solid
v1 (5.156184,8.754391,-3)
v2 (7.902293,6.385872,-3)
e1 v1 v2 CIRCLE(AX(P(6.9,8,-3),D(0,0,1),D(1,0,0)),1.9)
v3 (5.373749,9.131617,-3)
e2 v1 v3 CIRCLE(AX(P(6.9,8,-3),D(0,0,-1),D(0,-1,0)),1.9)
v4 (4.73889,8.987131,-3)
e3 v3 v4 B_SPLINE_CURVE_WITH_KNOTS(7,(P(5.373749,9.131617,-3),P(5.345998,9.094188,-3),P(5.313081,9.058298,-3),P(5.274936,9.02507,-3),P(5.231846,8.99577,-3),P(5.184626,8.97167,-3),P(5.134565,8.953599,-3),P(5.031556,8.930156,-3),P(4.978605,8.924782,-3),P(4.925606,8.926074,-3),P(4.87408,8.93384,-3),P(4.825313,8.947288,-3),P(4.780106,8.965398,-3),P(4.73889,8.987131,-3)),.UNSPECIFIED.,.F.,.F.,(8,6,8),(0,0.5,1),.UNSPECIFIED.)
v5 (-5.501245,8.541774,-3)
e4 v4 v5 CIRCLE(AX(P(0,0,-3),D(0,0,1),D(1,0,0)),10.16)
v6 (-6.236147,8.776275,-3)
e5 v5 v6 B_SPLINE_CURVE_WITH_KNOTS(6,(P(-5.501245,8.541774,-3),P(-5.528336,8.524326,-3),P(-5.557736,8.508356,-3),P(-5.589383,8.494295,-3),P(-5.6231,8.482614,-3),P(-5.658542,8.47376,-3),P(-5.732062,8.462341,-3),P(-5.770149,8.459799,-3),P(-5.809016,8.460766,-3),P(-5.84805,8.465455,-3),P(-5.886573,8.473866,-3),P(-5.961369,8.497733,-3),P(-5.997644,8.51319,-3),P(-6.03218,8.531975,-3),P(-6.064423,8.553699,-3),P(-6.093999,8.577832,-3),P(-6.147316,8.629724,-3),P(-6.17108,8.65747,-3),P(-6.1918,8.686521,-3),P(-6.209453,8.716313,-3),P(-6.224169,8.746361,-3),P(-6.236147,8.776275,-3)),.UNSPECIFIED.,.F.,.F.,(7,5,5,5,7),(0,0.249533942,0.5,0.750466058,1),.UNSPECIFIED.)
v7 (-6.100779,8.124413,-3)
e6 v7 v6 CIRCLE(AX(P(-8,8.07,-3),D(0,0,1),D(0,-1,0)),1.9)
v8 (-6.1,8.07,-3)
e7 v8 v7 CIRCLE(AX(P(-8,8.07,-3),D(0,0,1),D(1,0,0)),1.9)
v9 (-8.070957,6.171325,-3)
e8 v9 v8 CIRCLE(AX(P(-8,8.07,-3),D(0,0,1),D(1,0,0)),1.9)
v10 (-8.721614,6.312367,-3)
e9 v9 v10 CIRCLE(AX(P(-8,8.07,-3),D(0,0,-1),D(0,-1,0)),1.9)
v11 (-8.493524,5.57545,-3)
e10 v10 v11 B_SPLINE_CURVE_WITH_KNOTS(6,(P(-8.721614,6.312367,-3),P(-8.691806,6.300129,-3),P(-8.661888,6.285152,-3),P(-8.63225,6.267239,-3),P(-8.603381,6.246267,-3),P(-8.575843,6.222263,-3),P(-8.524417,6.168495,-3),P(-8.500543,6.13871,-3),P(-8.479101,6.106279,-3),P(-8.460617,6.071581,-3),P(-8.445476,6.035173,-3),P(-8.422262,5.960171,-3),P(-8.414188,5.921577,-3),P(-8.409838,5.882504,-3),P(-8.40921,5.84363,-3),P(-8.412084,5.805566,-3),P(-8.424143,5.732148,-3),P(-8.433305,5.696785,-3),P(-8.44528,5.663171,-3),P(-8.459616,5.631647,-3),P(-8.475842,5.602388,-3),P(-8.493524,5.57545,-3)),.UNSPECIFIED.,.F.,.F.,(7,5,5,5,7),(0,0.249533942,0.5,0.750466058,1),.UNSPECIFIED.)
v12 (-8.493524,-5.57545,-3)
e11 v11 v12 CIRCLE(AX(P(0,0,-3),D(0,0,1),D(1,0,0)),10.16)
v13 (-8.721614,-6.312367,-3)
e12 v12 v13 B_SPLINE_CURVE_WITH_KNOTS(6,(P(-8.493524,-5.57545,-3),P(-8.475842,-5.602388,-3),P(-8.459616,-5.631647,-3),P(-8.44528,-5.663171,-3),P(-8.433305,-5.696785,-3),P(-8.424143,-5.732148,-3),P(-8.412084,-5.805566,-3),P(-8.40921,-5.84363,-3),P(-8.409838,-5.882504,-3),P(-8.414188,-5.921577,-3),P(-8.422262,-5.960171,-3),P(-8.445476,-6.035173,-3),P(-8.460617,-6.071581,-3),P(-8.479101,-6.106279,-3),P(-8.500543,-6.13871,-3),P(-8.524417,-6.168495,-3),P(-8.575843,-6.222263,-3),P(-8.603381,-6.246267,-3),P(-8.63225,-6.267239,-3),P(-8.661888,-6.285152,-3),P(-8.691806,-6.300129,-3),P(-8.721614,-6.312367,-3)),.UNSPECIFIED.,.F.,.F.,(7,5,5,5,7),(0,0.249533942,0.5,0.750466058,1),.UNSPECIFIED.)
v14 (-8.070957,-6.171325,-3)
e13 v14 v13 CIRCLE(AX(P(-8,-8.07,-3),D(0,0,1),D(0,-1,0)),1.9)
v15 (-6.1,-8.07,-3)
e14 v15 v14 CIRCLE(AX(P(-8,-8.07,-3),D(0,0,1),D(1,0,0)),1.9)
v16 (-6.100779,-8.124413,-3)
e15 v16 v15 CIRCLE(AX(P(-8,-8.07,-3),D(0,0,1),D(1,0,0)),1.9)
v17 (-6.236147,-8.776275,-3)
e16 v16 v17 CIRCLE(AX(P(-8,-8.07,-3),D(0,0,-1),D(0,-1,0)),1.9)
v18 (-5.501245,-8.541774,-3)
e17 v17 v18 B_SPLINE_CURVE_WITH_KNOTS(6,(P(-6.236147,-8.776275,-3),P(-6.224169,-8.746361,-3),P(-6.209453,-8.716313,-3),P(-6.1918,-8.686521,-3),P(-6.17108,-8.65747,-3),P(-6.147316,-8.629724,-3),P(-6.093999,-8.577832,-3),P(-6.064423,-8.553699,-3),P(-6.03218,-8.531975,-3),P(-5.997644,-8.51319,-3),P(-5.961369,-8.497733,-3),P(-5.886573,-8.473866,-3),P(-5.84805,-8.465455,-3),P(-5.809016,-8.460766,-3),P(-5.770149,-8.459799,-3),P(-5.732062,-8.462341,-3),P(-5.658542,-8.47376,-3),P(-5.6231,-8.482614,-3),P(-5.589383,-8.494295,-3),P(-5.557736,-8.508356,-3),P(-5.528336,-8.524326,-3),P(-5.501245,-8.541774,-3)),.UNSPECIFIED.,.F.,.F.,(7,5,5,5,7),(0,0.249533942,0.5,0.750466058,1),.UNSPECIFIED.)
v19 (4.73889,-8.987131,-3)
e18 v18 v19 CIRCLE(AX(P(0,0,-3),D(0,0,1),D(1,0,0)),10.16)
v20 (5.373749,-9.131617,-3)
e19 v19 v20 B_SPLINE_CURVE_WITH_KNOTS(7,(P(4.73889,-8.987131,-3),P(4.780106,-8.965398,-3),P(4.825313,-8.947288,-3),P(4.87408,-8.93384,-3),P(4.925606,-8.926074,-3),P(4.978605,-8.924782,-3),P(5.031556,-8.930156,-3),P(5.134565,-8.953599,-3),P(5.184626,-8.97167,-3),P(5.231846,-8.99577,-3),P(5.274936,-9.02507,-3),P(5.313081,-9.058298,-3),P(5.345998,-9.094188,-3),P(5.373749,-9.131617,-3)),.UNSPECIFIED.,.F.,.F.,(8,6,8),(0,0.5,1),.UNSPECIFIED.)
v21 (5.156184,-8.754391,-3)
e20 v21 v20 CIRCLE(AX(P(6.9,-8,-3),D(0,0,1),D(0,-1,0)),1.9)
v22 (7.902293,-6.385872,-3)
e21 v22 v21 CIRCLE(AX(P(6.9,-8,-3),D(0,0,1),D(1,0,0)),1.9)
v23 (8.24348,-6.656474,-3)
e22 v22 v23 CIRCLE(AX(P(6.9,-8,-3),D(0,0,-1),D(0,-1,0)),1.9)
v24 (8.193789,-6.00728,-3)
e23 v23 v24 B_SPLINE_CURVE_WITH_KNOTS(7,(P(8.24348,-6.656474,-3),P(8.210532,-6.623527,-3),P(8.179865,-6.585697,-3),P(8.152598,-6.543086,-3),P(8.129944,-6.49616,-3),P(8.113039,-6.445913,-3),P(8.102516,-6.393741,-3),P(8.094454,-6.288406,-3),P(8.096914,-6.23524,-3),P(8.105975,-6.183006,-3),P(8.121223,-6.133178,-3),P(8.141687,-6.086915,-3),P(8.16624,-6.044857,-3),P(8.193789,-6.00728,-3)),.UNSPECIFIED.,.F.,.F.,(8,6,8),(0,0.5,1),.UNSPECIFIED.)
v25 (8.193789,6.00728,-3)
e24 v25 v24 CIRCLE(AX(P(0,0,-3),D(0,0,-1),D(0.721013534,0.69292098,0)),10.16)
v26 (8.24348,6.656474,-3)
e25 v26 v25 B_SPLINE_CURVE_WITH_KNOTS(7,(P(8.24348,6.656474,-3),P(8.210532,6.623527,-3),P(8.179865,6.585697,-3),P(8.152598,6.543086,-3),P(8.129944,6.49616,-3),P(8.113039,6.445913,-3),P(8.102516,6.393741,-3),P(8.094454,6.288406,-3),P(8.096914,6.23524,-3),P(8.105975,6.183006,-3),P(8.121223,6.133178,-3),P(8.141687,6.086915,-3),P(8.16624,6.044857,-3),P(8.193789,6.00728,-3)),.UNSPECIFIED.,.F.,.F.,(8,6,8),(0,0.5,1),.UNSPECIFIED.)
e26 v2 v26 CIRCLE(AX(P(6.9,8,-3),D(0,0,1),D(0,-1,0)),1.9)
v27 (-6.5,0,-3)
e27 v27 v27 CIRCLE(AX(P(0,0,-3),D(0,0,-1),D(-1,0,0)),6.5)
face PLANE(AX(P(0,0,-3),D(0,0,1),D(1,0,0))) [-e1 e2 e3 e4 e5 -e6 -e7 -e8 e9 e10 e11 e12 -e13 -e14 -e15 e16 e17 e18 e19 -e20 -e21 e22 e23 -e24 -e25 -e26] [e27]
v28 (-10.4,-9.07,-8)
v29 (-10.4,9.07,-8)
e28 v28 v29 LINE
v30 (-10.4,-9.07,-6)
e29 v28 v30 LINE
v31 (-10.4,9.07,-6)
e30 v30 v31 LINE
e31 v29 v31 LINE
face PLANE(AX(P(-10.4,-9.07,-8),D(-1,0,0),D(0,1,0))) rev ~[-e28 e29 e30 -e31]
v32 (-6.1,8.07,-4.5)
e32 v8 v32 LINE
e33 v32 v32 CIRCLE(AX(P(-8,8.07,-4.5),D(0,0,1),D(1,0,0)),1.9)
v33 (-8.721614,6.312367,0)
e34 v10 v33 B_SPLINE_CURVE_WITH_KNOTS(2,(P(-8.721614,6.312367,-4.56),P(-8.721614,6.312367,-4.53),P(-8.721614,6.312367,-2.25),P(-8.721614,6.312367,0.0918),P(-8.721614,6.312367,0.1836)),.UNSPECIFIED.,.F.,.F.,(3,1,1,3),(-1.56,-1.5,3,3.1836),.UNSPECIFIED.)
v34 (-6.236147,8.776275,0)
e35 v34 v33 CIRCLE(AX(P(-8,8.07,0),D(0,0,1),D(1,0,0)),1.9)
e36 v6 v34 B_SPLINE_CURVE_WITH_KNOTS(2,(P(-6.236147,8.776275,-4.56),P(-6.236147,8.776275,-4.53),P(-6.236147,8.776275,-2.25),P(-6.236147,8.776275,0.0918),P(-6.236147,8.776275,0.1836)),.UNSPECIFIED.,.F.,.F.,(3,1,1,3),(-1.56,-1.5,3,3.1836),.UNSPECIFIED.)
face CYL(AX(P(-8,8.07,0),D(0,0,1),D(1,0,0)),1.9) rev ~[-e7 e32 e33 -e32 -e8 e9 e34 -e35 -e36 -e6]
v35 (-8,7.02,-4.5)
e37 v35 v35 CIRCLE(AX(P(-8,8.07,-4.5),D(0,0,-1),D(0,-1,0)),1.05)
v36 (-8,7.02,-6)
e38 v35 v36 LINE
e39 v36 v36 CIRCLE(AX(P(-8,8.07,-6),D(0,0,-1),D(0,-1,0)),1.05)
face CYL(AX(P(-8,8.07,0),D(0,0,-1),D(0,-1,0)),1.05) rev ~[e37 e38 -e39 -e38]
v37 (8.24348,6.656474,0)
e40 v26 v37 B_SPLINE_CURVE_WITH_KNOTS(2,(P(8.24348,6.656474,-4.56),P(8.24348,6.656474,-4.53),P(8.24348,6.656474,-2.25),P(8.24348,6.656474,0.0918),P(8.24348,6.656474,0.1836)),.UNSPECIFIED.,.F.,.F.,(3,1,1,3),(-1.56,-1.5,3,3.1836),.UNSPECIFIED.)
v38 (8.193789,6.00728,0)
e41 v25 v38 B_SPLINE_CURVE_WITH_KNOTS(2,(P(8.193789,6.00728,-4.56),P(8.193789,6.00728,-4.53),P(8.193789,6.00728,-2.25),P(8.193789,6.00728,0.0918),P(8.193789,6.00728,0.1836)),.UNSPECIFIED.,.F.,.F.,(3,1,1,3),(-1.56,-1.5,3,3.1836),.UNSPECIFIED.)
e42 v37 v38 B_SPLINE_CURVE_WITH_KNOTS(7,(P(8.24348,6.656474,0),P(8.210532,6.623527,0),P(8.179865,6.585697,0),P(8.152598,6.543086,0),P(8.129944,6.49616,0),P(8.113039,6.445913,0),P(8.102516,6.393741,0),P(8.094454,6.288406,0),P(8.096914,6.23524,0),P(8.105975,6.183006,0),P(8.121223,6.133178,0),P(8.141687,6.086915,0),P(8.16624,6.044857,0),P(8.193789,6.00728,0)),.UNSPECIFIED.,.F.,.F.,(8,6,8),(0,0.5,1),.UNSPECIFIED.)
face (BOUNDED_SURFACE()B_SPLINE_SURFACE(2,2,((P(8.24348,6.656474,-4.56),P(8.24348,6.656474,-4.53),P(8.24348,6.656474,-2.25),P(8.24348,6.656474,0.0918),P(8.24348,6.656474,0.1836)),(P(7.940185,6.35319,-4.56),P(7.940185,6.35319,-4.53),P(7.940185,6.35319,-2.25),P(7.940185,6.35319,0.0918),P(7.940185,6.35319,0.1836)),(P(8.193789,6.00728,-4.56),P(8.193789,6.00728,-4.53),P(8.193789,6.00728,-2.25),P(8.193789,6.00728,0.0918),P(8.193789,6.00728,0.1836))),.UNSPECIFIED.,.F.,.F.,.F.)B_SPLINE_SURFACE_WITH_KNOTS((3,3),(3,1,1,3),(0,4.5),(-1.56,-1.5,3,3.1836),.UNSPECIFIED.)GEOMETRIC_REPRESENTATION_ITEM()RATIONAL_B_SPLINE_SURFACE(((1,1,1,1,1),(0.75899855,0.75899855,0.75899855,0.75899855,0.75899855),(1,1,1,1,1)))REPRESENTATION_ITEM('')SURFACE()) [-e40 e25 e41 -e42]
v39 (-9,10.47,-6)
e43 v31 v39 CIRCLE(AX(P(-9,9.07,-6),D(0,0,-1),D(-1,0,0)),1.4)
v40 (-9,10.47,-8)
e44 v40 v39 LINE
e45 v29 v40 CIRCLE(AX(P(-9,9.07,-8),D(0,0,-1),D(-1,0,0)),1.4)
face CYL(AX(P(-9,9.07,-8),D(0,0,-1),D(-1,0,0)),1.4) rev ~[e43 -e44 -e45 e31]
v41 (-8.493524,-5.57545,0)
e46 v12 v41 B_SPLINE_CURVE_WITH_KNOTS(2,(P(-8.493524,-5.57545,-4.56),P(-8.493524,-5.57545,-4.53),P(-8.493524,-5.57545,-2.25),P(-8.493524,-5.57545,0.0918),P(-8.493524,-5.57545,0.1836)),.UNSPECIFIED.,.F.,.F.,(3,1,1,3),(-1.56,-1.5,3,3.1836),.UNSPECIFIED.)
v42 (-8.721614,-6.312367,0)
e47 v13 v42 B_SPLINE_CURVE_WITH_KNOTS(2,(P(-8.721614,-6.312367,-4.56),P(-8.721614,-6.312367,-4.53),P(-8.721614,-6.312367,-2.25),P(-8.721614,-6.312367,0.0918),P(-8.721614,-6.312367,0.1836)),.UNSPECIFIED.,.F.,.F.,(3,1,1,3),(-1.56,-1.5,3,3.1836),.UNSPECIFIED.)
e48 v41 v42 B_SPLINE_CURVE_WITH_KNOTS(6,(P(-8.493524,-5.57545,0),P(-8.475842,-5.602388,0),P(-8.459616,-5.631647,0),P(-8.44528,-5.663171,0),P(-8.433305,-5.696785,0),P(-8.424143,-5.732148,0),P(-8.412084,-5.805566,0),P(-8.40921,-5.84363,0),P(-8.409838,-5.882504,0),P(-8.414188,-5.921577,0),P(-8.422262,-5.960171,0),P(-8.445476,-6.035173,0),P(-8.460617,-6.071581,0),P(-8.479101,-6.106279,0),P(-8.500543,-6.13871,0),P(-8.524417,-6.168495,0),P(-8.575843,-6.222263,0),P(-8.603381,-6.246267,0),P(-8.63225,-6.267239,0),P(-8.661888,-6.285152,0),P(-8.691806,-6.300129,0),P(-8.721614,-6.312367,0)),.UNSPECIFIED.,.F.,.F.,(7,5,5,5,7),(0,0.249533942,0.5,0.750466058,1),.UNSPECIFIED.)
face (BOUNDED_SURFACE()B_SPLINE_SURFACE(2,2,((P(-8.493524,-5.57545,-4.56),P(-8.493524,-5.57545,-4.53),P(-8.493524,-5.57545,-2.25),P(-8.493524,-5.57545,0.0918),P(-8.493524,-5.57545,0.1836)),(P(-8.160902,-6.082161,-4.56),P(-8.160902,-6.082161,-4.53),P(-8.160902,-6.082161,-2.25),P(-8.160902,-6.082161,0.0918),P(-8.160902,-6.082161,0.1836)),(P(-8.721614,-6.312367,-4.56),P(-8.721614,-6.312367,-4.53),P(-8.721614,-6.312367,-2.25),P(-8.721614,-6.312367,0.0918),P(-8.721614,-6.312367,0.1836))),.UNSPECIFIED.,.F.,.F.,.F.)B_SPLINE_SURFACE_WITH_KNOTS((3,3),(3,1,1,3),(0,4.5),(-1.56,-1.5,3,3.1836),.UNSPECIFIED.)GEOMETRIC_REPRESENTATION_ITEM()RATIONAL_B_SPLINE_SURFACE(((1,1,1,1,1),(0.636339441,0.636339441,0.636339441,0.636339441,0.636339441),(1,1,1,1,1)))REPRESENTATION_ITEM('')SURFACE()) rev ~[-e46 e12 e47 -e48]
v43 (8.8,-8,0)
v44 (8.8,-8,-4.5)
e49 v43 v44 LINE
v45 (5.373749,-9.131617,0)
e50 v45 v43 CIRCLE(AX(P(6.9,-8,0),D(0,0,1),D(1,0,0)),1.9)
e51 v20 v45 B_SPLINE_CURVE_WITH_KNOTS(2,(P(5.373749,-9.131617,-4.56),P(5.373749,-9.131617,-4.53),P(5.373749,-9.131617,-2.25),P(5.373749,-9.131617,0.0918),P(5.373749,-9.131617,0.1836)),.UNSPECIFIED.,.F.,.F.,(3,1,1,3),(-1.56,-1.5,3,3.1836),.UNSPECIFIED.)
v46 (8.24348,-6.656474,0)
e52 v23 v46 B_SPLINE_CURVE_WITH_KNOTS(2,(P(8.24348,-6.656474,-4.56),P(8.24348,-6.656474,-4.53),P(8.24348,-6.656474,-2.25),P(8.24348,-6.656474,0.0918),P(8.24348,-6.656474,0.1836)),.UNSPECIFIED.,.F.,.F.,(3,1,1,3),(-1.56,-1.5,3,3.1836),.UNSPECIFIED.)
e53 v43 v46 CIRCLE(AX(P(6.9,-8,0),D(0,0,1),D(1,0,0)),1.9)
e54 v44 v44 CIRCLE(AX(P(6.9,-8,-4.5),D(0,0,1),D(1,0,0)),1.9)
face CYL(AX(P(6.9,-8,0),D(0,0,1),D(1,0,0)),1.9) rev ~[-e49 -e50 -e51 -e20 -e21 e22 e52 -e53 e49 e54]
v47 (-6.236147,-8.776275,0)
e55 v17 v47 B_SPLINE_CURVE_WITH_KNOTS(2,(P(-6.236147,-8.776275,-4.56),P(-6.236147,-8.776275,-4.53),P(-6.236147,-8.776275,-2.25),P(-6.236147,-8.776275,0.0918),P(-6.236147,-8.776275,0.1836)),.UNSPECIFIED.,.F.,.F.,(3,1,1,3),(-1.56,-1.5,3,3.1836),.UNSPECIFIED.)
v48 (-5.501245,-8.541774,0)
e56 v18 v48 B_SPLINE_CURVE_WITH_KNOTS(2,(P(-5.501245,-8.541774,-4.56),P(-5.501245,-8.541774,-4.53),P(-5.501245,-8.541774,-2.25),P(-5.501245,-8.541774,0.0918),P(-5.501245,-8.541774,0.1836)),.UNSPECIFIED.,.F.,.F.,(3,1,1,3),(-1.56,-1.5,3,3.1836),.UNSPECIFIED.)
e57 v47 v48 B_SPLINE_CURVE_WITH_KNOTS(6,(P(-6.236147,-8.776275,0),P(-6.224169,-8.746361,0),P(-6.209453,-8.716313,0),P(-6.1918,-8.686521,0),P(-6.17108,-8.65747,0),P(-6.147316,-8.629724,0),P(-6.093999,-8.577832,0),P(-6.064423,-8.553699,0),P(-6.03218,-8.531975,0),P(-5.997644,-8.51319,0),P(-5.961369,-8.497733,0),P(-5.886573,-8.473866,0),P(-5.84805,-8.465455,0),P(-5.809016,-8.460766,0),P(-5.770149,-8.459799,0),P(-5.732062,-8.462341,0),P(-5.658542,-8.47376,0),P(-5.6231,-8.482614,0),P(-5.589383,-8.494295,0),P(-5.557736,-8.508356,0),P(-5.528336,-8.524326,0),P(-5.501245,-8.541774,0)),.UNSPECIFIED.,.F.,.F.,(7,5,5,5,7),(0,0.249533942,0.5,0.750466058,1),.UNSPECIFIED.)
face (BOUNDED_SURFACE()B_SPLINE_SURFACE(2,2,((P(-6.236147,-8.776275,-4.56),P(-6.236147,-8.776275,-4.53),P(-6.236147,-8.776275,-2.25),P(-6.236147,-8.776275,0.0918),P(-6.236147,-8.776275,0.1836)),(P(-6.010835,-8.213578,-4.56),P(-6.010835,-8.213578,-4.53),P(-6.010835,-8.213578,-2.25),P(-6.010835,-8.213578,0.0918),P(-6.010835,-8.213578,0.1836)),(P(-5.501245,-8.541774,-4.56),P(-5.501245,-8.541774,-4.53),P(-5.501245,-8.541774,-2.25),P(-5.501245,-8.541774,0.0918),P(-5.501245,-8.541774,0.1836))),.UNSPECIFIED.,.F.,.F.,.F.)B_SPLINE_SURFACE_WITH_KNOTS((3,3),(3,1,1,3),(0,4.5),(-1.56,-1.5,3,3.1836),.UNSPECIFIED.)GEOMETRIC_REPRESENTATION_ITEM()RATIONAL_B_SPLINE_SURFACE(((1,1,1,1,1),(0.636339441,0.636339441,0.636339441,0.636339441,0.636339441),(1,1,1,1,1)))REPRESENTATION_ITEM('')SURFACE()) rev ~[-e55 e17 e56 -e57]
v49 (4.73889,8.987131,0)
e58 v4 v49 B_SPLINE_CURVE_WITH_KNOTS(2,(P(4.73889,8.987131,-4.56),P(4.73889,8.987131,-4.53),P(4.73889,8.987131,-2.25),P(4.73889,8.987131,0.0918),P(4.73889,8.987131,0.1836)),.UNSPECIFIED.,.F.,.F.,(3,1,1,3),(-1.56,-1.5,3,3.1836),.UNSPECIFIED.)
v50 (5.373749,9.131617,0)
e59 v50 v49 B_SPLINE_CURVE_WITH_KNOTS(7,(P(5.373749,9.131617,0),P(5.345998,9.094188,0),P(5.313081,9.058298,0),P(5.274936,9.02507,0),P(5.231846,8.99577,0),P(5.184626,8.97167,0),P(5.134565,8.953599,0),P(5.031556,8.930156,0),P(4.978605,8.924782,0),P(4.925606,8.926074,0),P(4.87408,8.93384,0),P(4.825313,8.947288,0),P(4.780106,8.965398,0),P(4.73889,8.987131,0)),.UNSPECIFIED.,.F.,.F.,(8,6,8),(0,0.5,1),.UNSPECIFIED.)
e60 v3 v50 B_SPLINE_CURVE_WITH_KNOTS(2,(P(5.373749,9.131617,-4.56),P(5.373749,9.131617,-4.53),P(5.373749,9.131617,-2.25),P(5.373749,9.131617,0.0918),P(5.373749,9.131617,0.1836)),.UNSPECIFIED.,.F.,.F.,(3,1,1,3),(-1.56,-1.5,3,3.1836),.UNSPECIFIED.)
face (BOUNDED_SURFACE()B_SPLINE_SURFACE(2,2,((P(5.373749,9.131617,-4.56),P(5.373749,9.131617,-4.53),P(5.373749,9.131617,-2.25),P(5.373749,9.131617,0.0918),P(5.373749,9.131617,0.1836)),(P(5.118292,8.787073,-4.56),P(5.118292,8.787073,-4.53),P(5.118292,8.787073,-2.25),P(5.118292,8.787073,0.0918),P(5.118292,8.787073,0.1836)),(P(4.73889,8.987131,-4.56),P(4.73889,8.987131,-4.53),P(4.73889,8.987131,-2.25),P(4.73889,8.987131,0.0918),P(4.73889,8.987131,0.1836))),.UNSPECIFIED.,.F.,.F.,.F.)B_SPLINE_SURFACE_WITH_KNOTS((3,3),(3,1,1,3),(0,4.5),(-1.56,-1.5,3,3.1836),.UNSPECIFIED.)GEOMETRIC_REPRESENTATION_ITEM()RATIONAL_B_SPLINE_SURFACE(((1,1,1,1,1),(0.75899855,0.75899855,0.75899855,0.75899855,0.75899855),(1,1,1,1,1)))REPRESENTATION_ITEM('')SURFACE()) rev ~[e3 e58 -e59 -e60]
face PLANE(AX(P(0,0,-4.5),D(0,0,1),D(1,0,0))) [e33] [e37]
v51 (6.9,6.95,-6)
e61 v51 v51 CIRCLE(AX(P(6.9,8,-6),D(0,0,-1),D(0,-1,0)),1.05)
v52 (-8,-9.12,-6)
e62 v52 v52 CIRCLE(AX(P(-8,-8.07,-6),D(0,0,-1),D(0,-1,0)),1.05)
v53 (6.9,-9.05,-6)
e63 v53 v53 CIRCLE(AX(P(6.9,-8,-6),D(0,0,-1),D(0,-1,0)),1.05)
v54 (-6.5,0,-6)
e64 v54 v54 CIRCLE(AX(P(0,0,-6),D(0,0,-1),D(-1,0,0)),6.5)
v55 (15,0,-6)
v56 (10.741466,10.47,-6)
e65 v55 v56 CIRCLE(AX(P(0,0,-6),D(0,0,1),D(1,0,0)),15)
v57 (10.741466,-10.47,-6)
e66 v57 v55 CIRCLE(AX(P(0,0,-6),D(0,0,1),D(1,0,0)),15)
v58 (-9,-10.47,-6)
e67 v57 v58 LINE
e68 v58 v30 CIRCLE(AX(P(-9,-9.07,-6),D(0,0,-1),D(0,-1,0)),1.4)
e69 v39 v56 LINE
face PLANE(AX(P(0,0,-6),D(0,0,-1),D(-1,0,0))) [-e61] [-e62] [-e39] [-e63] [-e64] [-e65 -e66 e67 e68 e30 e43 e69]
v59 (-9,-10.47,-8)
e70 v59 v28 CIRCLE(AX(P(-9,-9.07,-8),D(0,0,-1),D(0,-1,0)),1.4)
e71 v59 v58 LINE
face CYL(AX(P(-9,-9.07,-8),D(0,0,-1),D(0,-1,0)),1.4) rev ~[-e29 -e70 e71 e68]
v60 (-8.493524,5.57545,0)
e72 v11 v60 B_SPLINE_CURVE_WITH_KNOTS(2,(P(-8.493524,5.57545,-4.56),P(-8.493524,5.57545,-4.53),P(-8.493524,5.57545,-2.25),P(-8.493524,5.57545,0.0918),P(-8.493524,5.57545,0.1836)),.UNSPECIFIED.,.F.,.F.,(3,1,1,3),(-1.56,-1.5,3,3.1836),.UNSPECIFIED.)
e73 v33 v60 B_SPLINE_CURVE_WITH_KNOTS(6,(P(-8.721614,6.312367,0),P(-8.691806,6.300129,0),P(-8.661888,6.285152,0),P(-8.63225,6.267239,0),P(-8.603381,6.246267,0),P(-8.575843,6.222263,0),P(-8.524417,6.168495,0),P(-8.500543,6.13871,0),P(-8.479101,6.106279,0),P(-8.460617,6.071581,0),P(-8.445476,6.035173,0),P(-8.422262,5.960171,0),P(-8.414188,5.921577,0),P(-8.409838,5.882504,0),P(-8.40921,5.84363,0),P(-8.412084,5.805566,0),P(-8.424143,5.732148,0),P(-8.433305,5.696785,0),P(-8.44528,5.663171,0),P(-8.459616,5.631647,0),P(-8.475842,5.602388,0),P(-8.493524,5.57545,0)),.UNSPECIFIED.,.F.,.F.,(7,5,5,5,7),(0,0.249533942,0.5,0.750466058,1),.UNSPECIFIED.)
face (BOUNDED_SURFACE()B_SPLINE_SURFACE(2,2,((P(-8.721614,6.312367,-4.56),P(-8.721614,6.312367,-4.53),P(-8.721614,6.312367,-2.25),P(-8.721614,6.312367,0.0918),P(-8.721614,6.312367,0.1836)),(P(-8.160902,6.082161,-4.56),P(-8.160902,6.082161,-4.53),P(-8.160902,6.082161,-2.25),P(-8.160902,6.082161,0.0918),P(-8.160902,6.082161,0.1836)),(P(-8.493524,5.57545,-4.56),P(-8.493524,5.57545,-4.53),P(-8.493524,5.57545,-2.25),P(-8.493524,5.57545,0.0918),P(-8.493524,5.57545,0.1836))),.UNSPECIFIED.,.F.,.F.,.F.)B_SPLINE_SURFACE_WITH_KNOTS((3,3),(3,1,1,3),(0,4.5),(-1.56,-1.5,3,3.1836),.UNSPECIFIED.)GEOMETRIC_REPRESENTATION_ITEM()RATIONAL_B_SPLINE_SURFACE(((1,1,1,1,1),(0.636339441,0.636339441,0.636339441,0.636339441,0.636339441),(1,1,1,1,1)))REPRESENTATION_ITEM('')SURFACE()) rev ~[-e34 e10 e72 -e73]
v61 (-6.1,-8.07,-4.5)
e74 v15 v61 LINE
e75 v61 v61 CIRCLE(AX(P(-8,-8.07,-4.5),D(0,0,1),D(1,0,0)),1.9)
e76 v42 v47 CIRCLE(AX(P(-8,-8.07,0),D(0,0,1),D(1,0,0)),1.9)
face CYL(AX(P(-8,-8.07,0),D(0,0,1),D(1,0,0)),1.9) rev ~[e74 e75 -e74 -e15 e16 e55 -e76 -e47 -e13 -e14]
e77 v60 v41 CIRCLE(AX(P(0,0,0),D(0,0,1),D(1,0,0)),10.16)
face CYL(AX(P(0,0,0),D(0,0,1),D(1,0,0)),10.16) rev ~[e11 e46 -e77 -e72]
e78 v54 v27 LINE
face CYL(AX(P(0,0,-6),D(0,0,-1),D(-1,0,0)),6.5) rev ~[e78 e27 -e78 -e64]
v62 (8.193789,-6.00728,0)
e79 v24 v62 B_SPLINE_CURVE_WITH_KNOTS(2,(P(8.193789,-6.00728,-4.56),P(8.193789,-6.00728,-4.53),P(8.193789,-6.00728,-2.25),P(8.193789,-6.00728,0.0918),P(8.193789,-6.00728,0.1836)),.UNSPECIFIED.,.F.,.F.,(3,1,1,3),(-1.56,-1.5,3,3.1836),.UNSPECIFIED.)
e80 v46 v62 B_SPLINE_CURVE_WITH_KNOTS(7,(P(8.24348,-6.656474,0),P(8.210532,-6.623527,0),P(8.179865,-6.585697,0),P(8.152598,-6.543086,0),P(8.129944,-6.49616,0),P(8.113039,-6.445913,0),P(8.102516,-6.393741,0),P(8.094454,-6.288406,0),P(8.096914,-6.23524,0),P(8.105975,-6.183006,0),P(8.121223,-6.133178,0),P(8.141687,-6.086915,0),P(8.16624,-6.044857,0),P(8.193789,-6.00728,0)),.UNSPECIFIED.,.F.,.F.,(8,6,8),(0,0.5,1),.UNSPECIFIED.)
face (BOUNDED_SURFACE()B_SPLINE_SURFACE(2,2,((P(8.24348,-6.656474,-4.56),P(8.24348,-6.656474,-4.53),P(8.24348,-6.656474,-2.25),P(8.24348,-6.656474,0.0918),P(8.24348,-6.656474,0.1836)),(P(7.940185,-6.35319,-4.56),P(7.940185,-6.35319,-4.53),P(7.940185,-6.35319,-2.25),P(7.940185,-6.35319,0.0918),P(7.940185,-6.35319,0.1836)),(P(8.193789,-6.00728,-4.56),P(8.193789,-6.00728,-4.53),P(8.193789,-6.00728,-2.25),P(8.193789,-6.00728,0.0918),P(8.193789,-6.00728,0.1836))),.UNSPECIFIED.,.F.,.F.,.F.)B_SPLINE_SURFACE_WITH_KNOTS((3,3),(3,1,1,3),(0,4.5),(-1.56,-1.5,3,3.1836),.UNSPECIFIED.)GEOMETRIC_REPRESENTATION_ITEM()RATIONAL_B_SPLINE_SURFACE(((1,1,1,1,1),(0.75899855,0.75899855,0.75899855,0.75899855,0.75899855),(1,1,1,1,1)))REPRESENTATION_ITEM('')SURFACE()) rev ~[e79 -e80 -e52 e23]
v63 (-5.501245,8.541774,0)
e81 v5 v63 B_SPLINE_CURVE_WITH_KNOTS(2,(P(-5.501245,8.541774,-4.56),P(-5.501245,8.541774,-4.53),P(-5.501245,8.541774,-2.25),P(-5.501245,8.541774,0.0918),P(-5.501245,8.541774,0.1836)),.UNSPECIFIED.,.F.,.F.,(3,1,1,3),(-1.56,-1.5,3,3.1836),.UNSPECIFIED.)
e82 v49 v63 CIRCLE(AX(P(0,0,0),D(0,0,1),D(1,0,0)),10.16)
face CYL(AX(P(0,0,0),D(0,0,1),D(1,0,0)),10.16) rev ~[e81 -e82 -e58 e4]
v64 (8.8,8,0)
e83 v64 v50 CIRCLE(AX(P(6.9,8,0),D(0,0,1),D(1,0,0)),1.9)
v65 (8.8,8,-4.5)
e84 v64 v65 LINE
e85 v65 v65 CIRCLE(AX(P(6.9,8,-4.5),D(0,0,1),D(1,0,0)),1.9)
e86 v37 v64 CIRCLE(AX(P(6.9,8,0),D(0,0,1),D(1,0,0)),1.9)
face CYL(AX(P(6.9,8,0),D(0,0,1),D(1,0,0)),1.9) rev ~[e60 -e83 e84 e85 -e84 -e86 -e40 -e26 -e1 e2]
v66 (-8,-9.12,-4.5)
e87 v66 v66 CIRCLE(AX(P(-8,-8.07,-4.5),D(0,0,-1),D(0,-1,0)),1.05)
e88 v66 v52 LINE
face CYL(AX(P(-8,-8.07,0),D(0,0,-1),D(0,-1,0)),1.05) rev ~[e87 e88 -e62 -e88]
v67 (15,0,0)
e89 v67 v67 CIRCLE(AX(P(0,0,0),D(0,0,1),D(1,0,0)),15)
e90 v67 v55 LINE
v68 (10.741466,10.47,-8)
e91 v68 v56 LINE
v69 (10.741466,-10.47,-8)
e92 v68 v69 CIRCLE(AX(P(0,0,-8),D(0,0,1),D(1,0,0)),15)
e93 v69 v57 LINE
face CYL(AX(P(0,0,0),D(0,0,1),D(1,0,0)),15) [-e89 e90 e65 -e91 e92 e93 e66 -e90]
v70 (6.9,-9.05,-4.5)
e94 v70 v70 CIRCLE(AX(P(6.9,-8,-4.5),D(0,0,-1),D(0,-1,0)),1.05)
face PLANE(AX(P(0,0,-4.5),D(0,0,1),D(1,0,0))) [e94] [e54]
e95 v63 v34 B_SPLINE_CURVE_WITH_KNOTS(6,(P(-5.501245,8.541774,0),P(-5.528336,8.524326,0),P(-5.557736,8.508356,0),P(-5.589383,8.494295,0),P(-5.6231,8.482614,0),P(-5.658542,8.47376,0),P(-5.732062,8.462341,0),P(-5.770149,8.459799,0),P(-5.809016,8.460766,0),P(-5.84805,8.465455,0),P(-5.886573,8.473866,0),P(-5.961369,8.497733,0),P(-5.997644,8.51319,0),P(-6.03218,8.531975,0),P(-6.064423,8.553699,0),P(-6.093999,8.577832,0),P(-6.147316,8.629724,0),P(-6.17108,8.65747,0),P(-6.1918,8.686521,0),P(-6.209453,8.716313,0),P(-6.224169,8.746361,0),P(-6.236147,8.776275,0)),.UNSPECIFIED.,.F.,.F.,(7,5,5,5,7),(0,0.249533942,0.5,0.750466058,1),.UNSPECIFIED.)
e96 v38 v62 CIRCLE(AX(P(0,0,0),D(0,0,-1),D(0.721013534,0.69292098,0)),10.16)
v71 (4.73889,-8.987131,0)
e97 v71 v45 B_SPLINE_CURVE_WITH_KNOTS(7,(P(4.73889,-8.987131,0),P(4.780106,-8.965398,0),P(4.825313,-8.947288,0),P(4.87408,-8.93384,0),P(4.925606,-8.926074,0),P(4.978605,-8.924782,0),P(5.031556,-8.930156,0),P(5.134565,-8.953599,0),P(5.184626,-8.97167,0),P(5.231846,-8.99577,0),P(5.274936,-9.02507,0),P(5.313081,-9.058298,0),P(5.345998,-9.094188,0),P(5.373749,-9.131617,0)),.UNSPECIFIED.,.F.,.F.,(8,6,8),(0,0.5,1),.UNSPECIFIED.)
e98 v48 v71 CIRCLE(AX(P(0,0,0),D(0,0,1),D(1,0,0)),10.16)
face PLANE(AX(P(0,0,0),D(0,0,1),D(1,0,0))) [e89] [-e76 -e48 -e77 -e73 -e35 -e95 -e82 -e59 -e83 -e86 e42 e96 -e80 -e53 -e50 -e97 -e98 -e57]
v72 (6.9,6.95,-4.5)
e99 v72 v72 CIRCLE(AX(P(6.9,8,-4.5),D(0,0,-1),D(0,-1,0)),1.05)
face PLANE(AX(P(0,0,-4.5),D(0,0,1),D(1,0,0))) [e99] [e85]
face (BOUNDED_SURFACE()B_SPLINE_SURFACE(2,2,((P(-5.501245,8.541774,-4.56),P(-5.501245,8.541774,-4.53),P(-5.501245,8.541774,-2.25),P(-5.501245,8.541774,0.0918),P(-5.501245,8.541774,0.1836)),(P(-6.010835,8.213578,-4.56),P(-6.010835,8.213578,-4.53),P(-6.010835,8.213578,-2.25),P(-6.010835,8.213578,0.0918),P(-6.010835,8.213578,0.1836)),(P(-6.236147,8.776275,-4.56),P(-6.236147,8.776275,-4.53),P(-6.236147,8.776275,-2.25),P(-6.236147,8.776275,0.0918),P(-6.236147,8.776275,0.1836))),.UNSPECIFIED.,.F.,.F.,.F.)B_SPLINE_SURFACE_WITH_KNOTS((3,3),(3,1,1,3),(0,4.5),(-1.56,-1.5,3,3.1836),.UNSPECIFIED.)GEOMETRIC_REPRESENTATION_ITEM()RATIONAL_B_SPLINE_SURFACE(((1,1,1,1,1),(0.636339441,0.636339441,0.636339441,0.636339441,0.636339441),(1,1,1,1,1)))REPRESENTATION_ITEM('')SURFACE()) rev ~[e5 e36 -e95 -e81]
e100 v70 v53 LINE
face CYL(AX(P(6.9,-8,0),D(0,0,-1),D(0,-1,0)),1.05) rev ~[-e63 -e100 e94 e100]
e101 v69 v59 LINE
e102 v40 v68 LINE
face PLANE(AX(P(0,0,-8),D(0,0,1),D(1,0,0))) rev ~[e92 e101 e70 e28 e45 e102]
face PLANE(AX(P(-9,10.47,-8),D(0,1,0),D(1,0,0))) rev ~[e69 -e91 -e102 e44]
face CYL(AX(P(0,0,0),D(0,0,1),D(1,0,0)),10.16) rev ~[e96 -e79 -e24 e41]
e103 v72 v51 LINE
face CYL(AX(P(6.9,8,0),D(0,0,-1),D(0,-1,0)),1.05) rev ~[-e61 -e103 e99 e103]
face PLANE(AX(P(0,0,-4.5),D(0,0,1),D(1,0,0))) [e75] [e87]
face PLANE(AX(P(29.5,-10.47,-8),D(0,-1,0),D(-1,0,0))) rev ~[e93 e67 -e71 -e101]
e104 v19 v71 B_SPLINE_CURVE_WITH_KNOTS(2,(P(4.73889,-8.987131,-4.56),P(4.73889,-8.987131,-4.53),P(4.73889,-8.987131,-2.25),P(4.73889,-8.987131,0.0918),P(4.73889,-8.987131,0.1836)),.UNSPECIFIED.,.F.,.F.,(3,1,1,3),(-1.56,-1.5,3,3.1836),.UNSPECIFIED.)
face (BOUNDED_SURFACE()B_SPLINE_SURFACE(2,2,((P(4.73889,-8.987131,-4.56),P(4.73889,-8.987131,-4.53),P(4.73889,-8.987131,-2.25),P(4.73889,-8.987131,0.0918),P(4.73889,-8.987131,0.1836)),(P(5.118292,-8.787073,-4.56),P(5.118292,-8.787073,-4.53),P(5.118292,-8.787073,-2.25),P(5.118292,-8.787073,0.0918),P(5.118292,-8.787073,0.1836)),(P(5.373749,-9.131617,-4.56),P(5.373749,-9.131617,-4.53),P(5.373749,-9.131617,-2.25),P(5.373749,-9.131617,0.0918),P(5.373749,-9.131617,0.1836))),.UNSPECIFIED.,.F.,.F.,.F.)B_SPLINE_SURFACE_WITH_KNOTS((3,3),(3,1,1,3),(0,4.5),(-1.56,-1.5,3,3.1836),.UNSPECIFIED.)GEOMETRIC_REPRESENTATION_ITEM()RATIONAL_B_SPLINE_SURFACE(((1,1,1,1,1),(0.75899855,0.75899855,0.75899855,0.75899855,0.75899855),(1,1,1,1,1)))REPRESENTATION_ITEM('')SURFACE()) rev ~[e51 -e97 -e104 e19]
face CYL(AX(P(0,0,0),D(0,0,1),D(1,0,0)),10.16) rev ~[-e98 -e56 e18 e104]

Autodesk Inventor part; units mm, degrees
ref_plane "YZ Plane" through (0, 0, 0) normal (1, 0, 0) x (0, 1, 0)
ref_plane "XZ Plane" through (0, 0, 0) normal (0, 1, 0) x (-1, 0, 0)
ref_plane "XY Plane" through (0, 0, 0) normal (0, 0, 1) x (1, 0, 0)
sketch "Sketch8" plane through (0, 0, 0) normal (0, 0, 1) x (1, 0, 0)
  circle A0 centre (0, 0) radius 15
  dimension "d33" = 30
extrude "Extrusion7" add sketch "Sketch8" against normal blind 8
sketch "Sketch10" plane through (0, 0, -8) normal (0, 0, -1) x (-1, 0, 0)
  line L0 (9, 10.07) -> (-29.1, 10.07)
  arc A0 (10, 9.07) -> (9, 10.07) centre (9, 9.07) ccw
  line L1 (10, 9.07) -> (10, -9.07)
  arc A1 (9, -10.07) -> (10, -9.07) centre (9, -9.07) ccw
  line L2 (-29.1, -10.07) -> (9, -10.07)
  line L3 (-29.1, 10.07) -> (-29.1, -10.07)
  arc A2 (9, -10.47) -> (10.4, -9.07) centre (9, -9.07) ccw
  line L4 (10.4, -9.07) -> (10.4, 9.07)
  arc A3 (10.4, 9.07) -> (9, 10.47) centre (9, 9.07) ccw
  line L5 (9, 10.47) -> (-29.5, 10.47)
  line L6 (-29.5, 10.47) -> (-29.5, -10.47)
  line L7 (-29.5, -10.47) -> (9, -10.47)
  dimension "d59" = 0.4
extrude "Extrusion8" cut sketch "Sketch10" against normal blind 2 contours A0 L1 A1 L2 L3 L0 | L7 L6 L5 A3 L4 A2
sketch "Sketch11" plane through (0, 0, -6) normal (0, 0, -1) x (-1, 0, 0)
  circle A0 centre (0, 0) radius 6.4
  circle A1 centre (0, 0) radius 6.5
  point P0 (0, 0)
  dimension "d58" = 13
extrude "Extrusion9" cut sketch "Sketch11" against normal through all contours A0 | A1
sketch "Sketch13" plane through (0, 0, 0) normal (0, 0, 1) x (1, 0, 0)
  circle A0 centre (0, 0) radius 9.96
  circle A1 centre (0, 0) radius 10.16
  point P0 (0, 0)
  dimension "d44" = 0.2
extrude "Extrusion11" cut sketch "Sketch13" against normal blind 3 contours A0 | A1
sketch "Sketch14" plane through (0, 0, 0) normal (0, 0, 1) x (1, 0, 0)
  circle A0 centre (6.9, 8) radius 0.7835
  circle A1 centre (6.9, -8) radius 0.7835
  circle A2 centre (-8, 8.07) radius 1
  circle A3 centre (-8, -8.07) radius 1
  point P0 (0, 0)
hole "Hole2" at (6.9, 8, 0) at (-8, 8.07, 0) at (-8, -8.07, 0) at (6.9, -8, 0) direction (0, 0, -1) diameter 2.1 end through all
sketch "Sketch15" plane through (0, 0, 0) normal (0, 0, 1) x (1, 0, 0)
  arc A0 (7.3255, 7.0401) -> (5.888, 8.2799) centre (6.9, 8) ccw projected
  arc A1 (5.888, -8.2799) -> (7.3255, -7.0401) centre (6.9, -8) ccw projected
  circle A2 centre (-8, 8.07) radius 1.05 projected
  circle A3 centre (-8, -8.07) radius 1.05 projected
  circle A4 centre (6.9, 8) radius 1.9
  circle A5 centre (6.9, -8) radius 1.9
  circle A6 centre (-8, -8.07) radius 1.9
  circle A7 centre (-8, 8.07) radius 1.9
  point P0 (0, 0)
  dimension "d54" = 3.8
extrude "Extrusion12" cut sketch "Sketch15" against normal blind 4.5 contours A2 | A3 | A4 | A5 | A6 | A7
fillet "Fillet2" radius 0.5 8 edges at (5.1562, 8.7544, -1.5) (7.9023, 6.3859, -1.5) (-6.1008, 8.1244, -1.5) (-8.071, 6.1713, -1.5) (-8.071, -6.1713, -1.5) (-6.1008, -8.1244, -1.5) (5.1562, -8.7544, -1.5) (7.9023, -6.3859, -1.5)
properties part number "axis_4_top_frame" material "Aluminum 6061-AHC"
